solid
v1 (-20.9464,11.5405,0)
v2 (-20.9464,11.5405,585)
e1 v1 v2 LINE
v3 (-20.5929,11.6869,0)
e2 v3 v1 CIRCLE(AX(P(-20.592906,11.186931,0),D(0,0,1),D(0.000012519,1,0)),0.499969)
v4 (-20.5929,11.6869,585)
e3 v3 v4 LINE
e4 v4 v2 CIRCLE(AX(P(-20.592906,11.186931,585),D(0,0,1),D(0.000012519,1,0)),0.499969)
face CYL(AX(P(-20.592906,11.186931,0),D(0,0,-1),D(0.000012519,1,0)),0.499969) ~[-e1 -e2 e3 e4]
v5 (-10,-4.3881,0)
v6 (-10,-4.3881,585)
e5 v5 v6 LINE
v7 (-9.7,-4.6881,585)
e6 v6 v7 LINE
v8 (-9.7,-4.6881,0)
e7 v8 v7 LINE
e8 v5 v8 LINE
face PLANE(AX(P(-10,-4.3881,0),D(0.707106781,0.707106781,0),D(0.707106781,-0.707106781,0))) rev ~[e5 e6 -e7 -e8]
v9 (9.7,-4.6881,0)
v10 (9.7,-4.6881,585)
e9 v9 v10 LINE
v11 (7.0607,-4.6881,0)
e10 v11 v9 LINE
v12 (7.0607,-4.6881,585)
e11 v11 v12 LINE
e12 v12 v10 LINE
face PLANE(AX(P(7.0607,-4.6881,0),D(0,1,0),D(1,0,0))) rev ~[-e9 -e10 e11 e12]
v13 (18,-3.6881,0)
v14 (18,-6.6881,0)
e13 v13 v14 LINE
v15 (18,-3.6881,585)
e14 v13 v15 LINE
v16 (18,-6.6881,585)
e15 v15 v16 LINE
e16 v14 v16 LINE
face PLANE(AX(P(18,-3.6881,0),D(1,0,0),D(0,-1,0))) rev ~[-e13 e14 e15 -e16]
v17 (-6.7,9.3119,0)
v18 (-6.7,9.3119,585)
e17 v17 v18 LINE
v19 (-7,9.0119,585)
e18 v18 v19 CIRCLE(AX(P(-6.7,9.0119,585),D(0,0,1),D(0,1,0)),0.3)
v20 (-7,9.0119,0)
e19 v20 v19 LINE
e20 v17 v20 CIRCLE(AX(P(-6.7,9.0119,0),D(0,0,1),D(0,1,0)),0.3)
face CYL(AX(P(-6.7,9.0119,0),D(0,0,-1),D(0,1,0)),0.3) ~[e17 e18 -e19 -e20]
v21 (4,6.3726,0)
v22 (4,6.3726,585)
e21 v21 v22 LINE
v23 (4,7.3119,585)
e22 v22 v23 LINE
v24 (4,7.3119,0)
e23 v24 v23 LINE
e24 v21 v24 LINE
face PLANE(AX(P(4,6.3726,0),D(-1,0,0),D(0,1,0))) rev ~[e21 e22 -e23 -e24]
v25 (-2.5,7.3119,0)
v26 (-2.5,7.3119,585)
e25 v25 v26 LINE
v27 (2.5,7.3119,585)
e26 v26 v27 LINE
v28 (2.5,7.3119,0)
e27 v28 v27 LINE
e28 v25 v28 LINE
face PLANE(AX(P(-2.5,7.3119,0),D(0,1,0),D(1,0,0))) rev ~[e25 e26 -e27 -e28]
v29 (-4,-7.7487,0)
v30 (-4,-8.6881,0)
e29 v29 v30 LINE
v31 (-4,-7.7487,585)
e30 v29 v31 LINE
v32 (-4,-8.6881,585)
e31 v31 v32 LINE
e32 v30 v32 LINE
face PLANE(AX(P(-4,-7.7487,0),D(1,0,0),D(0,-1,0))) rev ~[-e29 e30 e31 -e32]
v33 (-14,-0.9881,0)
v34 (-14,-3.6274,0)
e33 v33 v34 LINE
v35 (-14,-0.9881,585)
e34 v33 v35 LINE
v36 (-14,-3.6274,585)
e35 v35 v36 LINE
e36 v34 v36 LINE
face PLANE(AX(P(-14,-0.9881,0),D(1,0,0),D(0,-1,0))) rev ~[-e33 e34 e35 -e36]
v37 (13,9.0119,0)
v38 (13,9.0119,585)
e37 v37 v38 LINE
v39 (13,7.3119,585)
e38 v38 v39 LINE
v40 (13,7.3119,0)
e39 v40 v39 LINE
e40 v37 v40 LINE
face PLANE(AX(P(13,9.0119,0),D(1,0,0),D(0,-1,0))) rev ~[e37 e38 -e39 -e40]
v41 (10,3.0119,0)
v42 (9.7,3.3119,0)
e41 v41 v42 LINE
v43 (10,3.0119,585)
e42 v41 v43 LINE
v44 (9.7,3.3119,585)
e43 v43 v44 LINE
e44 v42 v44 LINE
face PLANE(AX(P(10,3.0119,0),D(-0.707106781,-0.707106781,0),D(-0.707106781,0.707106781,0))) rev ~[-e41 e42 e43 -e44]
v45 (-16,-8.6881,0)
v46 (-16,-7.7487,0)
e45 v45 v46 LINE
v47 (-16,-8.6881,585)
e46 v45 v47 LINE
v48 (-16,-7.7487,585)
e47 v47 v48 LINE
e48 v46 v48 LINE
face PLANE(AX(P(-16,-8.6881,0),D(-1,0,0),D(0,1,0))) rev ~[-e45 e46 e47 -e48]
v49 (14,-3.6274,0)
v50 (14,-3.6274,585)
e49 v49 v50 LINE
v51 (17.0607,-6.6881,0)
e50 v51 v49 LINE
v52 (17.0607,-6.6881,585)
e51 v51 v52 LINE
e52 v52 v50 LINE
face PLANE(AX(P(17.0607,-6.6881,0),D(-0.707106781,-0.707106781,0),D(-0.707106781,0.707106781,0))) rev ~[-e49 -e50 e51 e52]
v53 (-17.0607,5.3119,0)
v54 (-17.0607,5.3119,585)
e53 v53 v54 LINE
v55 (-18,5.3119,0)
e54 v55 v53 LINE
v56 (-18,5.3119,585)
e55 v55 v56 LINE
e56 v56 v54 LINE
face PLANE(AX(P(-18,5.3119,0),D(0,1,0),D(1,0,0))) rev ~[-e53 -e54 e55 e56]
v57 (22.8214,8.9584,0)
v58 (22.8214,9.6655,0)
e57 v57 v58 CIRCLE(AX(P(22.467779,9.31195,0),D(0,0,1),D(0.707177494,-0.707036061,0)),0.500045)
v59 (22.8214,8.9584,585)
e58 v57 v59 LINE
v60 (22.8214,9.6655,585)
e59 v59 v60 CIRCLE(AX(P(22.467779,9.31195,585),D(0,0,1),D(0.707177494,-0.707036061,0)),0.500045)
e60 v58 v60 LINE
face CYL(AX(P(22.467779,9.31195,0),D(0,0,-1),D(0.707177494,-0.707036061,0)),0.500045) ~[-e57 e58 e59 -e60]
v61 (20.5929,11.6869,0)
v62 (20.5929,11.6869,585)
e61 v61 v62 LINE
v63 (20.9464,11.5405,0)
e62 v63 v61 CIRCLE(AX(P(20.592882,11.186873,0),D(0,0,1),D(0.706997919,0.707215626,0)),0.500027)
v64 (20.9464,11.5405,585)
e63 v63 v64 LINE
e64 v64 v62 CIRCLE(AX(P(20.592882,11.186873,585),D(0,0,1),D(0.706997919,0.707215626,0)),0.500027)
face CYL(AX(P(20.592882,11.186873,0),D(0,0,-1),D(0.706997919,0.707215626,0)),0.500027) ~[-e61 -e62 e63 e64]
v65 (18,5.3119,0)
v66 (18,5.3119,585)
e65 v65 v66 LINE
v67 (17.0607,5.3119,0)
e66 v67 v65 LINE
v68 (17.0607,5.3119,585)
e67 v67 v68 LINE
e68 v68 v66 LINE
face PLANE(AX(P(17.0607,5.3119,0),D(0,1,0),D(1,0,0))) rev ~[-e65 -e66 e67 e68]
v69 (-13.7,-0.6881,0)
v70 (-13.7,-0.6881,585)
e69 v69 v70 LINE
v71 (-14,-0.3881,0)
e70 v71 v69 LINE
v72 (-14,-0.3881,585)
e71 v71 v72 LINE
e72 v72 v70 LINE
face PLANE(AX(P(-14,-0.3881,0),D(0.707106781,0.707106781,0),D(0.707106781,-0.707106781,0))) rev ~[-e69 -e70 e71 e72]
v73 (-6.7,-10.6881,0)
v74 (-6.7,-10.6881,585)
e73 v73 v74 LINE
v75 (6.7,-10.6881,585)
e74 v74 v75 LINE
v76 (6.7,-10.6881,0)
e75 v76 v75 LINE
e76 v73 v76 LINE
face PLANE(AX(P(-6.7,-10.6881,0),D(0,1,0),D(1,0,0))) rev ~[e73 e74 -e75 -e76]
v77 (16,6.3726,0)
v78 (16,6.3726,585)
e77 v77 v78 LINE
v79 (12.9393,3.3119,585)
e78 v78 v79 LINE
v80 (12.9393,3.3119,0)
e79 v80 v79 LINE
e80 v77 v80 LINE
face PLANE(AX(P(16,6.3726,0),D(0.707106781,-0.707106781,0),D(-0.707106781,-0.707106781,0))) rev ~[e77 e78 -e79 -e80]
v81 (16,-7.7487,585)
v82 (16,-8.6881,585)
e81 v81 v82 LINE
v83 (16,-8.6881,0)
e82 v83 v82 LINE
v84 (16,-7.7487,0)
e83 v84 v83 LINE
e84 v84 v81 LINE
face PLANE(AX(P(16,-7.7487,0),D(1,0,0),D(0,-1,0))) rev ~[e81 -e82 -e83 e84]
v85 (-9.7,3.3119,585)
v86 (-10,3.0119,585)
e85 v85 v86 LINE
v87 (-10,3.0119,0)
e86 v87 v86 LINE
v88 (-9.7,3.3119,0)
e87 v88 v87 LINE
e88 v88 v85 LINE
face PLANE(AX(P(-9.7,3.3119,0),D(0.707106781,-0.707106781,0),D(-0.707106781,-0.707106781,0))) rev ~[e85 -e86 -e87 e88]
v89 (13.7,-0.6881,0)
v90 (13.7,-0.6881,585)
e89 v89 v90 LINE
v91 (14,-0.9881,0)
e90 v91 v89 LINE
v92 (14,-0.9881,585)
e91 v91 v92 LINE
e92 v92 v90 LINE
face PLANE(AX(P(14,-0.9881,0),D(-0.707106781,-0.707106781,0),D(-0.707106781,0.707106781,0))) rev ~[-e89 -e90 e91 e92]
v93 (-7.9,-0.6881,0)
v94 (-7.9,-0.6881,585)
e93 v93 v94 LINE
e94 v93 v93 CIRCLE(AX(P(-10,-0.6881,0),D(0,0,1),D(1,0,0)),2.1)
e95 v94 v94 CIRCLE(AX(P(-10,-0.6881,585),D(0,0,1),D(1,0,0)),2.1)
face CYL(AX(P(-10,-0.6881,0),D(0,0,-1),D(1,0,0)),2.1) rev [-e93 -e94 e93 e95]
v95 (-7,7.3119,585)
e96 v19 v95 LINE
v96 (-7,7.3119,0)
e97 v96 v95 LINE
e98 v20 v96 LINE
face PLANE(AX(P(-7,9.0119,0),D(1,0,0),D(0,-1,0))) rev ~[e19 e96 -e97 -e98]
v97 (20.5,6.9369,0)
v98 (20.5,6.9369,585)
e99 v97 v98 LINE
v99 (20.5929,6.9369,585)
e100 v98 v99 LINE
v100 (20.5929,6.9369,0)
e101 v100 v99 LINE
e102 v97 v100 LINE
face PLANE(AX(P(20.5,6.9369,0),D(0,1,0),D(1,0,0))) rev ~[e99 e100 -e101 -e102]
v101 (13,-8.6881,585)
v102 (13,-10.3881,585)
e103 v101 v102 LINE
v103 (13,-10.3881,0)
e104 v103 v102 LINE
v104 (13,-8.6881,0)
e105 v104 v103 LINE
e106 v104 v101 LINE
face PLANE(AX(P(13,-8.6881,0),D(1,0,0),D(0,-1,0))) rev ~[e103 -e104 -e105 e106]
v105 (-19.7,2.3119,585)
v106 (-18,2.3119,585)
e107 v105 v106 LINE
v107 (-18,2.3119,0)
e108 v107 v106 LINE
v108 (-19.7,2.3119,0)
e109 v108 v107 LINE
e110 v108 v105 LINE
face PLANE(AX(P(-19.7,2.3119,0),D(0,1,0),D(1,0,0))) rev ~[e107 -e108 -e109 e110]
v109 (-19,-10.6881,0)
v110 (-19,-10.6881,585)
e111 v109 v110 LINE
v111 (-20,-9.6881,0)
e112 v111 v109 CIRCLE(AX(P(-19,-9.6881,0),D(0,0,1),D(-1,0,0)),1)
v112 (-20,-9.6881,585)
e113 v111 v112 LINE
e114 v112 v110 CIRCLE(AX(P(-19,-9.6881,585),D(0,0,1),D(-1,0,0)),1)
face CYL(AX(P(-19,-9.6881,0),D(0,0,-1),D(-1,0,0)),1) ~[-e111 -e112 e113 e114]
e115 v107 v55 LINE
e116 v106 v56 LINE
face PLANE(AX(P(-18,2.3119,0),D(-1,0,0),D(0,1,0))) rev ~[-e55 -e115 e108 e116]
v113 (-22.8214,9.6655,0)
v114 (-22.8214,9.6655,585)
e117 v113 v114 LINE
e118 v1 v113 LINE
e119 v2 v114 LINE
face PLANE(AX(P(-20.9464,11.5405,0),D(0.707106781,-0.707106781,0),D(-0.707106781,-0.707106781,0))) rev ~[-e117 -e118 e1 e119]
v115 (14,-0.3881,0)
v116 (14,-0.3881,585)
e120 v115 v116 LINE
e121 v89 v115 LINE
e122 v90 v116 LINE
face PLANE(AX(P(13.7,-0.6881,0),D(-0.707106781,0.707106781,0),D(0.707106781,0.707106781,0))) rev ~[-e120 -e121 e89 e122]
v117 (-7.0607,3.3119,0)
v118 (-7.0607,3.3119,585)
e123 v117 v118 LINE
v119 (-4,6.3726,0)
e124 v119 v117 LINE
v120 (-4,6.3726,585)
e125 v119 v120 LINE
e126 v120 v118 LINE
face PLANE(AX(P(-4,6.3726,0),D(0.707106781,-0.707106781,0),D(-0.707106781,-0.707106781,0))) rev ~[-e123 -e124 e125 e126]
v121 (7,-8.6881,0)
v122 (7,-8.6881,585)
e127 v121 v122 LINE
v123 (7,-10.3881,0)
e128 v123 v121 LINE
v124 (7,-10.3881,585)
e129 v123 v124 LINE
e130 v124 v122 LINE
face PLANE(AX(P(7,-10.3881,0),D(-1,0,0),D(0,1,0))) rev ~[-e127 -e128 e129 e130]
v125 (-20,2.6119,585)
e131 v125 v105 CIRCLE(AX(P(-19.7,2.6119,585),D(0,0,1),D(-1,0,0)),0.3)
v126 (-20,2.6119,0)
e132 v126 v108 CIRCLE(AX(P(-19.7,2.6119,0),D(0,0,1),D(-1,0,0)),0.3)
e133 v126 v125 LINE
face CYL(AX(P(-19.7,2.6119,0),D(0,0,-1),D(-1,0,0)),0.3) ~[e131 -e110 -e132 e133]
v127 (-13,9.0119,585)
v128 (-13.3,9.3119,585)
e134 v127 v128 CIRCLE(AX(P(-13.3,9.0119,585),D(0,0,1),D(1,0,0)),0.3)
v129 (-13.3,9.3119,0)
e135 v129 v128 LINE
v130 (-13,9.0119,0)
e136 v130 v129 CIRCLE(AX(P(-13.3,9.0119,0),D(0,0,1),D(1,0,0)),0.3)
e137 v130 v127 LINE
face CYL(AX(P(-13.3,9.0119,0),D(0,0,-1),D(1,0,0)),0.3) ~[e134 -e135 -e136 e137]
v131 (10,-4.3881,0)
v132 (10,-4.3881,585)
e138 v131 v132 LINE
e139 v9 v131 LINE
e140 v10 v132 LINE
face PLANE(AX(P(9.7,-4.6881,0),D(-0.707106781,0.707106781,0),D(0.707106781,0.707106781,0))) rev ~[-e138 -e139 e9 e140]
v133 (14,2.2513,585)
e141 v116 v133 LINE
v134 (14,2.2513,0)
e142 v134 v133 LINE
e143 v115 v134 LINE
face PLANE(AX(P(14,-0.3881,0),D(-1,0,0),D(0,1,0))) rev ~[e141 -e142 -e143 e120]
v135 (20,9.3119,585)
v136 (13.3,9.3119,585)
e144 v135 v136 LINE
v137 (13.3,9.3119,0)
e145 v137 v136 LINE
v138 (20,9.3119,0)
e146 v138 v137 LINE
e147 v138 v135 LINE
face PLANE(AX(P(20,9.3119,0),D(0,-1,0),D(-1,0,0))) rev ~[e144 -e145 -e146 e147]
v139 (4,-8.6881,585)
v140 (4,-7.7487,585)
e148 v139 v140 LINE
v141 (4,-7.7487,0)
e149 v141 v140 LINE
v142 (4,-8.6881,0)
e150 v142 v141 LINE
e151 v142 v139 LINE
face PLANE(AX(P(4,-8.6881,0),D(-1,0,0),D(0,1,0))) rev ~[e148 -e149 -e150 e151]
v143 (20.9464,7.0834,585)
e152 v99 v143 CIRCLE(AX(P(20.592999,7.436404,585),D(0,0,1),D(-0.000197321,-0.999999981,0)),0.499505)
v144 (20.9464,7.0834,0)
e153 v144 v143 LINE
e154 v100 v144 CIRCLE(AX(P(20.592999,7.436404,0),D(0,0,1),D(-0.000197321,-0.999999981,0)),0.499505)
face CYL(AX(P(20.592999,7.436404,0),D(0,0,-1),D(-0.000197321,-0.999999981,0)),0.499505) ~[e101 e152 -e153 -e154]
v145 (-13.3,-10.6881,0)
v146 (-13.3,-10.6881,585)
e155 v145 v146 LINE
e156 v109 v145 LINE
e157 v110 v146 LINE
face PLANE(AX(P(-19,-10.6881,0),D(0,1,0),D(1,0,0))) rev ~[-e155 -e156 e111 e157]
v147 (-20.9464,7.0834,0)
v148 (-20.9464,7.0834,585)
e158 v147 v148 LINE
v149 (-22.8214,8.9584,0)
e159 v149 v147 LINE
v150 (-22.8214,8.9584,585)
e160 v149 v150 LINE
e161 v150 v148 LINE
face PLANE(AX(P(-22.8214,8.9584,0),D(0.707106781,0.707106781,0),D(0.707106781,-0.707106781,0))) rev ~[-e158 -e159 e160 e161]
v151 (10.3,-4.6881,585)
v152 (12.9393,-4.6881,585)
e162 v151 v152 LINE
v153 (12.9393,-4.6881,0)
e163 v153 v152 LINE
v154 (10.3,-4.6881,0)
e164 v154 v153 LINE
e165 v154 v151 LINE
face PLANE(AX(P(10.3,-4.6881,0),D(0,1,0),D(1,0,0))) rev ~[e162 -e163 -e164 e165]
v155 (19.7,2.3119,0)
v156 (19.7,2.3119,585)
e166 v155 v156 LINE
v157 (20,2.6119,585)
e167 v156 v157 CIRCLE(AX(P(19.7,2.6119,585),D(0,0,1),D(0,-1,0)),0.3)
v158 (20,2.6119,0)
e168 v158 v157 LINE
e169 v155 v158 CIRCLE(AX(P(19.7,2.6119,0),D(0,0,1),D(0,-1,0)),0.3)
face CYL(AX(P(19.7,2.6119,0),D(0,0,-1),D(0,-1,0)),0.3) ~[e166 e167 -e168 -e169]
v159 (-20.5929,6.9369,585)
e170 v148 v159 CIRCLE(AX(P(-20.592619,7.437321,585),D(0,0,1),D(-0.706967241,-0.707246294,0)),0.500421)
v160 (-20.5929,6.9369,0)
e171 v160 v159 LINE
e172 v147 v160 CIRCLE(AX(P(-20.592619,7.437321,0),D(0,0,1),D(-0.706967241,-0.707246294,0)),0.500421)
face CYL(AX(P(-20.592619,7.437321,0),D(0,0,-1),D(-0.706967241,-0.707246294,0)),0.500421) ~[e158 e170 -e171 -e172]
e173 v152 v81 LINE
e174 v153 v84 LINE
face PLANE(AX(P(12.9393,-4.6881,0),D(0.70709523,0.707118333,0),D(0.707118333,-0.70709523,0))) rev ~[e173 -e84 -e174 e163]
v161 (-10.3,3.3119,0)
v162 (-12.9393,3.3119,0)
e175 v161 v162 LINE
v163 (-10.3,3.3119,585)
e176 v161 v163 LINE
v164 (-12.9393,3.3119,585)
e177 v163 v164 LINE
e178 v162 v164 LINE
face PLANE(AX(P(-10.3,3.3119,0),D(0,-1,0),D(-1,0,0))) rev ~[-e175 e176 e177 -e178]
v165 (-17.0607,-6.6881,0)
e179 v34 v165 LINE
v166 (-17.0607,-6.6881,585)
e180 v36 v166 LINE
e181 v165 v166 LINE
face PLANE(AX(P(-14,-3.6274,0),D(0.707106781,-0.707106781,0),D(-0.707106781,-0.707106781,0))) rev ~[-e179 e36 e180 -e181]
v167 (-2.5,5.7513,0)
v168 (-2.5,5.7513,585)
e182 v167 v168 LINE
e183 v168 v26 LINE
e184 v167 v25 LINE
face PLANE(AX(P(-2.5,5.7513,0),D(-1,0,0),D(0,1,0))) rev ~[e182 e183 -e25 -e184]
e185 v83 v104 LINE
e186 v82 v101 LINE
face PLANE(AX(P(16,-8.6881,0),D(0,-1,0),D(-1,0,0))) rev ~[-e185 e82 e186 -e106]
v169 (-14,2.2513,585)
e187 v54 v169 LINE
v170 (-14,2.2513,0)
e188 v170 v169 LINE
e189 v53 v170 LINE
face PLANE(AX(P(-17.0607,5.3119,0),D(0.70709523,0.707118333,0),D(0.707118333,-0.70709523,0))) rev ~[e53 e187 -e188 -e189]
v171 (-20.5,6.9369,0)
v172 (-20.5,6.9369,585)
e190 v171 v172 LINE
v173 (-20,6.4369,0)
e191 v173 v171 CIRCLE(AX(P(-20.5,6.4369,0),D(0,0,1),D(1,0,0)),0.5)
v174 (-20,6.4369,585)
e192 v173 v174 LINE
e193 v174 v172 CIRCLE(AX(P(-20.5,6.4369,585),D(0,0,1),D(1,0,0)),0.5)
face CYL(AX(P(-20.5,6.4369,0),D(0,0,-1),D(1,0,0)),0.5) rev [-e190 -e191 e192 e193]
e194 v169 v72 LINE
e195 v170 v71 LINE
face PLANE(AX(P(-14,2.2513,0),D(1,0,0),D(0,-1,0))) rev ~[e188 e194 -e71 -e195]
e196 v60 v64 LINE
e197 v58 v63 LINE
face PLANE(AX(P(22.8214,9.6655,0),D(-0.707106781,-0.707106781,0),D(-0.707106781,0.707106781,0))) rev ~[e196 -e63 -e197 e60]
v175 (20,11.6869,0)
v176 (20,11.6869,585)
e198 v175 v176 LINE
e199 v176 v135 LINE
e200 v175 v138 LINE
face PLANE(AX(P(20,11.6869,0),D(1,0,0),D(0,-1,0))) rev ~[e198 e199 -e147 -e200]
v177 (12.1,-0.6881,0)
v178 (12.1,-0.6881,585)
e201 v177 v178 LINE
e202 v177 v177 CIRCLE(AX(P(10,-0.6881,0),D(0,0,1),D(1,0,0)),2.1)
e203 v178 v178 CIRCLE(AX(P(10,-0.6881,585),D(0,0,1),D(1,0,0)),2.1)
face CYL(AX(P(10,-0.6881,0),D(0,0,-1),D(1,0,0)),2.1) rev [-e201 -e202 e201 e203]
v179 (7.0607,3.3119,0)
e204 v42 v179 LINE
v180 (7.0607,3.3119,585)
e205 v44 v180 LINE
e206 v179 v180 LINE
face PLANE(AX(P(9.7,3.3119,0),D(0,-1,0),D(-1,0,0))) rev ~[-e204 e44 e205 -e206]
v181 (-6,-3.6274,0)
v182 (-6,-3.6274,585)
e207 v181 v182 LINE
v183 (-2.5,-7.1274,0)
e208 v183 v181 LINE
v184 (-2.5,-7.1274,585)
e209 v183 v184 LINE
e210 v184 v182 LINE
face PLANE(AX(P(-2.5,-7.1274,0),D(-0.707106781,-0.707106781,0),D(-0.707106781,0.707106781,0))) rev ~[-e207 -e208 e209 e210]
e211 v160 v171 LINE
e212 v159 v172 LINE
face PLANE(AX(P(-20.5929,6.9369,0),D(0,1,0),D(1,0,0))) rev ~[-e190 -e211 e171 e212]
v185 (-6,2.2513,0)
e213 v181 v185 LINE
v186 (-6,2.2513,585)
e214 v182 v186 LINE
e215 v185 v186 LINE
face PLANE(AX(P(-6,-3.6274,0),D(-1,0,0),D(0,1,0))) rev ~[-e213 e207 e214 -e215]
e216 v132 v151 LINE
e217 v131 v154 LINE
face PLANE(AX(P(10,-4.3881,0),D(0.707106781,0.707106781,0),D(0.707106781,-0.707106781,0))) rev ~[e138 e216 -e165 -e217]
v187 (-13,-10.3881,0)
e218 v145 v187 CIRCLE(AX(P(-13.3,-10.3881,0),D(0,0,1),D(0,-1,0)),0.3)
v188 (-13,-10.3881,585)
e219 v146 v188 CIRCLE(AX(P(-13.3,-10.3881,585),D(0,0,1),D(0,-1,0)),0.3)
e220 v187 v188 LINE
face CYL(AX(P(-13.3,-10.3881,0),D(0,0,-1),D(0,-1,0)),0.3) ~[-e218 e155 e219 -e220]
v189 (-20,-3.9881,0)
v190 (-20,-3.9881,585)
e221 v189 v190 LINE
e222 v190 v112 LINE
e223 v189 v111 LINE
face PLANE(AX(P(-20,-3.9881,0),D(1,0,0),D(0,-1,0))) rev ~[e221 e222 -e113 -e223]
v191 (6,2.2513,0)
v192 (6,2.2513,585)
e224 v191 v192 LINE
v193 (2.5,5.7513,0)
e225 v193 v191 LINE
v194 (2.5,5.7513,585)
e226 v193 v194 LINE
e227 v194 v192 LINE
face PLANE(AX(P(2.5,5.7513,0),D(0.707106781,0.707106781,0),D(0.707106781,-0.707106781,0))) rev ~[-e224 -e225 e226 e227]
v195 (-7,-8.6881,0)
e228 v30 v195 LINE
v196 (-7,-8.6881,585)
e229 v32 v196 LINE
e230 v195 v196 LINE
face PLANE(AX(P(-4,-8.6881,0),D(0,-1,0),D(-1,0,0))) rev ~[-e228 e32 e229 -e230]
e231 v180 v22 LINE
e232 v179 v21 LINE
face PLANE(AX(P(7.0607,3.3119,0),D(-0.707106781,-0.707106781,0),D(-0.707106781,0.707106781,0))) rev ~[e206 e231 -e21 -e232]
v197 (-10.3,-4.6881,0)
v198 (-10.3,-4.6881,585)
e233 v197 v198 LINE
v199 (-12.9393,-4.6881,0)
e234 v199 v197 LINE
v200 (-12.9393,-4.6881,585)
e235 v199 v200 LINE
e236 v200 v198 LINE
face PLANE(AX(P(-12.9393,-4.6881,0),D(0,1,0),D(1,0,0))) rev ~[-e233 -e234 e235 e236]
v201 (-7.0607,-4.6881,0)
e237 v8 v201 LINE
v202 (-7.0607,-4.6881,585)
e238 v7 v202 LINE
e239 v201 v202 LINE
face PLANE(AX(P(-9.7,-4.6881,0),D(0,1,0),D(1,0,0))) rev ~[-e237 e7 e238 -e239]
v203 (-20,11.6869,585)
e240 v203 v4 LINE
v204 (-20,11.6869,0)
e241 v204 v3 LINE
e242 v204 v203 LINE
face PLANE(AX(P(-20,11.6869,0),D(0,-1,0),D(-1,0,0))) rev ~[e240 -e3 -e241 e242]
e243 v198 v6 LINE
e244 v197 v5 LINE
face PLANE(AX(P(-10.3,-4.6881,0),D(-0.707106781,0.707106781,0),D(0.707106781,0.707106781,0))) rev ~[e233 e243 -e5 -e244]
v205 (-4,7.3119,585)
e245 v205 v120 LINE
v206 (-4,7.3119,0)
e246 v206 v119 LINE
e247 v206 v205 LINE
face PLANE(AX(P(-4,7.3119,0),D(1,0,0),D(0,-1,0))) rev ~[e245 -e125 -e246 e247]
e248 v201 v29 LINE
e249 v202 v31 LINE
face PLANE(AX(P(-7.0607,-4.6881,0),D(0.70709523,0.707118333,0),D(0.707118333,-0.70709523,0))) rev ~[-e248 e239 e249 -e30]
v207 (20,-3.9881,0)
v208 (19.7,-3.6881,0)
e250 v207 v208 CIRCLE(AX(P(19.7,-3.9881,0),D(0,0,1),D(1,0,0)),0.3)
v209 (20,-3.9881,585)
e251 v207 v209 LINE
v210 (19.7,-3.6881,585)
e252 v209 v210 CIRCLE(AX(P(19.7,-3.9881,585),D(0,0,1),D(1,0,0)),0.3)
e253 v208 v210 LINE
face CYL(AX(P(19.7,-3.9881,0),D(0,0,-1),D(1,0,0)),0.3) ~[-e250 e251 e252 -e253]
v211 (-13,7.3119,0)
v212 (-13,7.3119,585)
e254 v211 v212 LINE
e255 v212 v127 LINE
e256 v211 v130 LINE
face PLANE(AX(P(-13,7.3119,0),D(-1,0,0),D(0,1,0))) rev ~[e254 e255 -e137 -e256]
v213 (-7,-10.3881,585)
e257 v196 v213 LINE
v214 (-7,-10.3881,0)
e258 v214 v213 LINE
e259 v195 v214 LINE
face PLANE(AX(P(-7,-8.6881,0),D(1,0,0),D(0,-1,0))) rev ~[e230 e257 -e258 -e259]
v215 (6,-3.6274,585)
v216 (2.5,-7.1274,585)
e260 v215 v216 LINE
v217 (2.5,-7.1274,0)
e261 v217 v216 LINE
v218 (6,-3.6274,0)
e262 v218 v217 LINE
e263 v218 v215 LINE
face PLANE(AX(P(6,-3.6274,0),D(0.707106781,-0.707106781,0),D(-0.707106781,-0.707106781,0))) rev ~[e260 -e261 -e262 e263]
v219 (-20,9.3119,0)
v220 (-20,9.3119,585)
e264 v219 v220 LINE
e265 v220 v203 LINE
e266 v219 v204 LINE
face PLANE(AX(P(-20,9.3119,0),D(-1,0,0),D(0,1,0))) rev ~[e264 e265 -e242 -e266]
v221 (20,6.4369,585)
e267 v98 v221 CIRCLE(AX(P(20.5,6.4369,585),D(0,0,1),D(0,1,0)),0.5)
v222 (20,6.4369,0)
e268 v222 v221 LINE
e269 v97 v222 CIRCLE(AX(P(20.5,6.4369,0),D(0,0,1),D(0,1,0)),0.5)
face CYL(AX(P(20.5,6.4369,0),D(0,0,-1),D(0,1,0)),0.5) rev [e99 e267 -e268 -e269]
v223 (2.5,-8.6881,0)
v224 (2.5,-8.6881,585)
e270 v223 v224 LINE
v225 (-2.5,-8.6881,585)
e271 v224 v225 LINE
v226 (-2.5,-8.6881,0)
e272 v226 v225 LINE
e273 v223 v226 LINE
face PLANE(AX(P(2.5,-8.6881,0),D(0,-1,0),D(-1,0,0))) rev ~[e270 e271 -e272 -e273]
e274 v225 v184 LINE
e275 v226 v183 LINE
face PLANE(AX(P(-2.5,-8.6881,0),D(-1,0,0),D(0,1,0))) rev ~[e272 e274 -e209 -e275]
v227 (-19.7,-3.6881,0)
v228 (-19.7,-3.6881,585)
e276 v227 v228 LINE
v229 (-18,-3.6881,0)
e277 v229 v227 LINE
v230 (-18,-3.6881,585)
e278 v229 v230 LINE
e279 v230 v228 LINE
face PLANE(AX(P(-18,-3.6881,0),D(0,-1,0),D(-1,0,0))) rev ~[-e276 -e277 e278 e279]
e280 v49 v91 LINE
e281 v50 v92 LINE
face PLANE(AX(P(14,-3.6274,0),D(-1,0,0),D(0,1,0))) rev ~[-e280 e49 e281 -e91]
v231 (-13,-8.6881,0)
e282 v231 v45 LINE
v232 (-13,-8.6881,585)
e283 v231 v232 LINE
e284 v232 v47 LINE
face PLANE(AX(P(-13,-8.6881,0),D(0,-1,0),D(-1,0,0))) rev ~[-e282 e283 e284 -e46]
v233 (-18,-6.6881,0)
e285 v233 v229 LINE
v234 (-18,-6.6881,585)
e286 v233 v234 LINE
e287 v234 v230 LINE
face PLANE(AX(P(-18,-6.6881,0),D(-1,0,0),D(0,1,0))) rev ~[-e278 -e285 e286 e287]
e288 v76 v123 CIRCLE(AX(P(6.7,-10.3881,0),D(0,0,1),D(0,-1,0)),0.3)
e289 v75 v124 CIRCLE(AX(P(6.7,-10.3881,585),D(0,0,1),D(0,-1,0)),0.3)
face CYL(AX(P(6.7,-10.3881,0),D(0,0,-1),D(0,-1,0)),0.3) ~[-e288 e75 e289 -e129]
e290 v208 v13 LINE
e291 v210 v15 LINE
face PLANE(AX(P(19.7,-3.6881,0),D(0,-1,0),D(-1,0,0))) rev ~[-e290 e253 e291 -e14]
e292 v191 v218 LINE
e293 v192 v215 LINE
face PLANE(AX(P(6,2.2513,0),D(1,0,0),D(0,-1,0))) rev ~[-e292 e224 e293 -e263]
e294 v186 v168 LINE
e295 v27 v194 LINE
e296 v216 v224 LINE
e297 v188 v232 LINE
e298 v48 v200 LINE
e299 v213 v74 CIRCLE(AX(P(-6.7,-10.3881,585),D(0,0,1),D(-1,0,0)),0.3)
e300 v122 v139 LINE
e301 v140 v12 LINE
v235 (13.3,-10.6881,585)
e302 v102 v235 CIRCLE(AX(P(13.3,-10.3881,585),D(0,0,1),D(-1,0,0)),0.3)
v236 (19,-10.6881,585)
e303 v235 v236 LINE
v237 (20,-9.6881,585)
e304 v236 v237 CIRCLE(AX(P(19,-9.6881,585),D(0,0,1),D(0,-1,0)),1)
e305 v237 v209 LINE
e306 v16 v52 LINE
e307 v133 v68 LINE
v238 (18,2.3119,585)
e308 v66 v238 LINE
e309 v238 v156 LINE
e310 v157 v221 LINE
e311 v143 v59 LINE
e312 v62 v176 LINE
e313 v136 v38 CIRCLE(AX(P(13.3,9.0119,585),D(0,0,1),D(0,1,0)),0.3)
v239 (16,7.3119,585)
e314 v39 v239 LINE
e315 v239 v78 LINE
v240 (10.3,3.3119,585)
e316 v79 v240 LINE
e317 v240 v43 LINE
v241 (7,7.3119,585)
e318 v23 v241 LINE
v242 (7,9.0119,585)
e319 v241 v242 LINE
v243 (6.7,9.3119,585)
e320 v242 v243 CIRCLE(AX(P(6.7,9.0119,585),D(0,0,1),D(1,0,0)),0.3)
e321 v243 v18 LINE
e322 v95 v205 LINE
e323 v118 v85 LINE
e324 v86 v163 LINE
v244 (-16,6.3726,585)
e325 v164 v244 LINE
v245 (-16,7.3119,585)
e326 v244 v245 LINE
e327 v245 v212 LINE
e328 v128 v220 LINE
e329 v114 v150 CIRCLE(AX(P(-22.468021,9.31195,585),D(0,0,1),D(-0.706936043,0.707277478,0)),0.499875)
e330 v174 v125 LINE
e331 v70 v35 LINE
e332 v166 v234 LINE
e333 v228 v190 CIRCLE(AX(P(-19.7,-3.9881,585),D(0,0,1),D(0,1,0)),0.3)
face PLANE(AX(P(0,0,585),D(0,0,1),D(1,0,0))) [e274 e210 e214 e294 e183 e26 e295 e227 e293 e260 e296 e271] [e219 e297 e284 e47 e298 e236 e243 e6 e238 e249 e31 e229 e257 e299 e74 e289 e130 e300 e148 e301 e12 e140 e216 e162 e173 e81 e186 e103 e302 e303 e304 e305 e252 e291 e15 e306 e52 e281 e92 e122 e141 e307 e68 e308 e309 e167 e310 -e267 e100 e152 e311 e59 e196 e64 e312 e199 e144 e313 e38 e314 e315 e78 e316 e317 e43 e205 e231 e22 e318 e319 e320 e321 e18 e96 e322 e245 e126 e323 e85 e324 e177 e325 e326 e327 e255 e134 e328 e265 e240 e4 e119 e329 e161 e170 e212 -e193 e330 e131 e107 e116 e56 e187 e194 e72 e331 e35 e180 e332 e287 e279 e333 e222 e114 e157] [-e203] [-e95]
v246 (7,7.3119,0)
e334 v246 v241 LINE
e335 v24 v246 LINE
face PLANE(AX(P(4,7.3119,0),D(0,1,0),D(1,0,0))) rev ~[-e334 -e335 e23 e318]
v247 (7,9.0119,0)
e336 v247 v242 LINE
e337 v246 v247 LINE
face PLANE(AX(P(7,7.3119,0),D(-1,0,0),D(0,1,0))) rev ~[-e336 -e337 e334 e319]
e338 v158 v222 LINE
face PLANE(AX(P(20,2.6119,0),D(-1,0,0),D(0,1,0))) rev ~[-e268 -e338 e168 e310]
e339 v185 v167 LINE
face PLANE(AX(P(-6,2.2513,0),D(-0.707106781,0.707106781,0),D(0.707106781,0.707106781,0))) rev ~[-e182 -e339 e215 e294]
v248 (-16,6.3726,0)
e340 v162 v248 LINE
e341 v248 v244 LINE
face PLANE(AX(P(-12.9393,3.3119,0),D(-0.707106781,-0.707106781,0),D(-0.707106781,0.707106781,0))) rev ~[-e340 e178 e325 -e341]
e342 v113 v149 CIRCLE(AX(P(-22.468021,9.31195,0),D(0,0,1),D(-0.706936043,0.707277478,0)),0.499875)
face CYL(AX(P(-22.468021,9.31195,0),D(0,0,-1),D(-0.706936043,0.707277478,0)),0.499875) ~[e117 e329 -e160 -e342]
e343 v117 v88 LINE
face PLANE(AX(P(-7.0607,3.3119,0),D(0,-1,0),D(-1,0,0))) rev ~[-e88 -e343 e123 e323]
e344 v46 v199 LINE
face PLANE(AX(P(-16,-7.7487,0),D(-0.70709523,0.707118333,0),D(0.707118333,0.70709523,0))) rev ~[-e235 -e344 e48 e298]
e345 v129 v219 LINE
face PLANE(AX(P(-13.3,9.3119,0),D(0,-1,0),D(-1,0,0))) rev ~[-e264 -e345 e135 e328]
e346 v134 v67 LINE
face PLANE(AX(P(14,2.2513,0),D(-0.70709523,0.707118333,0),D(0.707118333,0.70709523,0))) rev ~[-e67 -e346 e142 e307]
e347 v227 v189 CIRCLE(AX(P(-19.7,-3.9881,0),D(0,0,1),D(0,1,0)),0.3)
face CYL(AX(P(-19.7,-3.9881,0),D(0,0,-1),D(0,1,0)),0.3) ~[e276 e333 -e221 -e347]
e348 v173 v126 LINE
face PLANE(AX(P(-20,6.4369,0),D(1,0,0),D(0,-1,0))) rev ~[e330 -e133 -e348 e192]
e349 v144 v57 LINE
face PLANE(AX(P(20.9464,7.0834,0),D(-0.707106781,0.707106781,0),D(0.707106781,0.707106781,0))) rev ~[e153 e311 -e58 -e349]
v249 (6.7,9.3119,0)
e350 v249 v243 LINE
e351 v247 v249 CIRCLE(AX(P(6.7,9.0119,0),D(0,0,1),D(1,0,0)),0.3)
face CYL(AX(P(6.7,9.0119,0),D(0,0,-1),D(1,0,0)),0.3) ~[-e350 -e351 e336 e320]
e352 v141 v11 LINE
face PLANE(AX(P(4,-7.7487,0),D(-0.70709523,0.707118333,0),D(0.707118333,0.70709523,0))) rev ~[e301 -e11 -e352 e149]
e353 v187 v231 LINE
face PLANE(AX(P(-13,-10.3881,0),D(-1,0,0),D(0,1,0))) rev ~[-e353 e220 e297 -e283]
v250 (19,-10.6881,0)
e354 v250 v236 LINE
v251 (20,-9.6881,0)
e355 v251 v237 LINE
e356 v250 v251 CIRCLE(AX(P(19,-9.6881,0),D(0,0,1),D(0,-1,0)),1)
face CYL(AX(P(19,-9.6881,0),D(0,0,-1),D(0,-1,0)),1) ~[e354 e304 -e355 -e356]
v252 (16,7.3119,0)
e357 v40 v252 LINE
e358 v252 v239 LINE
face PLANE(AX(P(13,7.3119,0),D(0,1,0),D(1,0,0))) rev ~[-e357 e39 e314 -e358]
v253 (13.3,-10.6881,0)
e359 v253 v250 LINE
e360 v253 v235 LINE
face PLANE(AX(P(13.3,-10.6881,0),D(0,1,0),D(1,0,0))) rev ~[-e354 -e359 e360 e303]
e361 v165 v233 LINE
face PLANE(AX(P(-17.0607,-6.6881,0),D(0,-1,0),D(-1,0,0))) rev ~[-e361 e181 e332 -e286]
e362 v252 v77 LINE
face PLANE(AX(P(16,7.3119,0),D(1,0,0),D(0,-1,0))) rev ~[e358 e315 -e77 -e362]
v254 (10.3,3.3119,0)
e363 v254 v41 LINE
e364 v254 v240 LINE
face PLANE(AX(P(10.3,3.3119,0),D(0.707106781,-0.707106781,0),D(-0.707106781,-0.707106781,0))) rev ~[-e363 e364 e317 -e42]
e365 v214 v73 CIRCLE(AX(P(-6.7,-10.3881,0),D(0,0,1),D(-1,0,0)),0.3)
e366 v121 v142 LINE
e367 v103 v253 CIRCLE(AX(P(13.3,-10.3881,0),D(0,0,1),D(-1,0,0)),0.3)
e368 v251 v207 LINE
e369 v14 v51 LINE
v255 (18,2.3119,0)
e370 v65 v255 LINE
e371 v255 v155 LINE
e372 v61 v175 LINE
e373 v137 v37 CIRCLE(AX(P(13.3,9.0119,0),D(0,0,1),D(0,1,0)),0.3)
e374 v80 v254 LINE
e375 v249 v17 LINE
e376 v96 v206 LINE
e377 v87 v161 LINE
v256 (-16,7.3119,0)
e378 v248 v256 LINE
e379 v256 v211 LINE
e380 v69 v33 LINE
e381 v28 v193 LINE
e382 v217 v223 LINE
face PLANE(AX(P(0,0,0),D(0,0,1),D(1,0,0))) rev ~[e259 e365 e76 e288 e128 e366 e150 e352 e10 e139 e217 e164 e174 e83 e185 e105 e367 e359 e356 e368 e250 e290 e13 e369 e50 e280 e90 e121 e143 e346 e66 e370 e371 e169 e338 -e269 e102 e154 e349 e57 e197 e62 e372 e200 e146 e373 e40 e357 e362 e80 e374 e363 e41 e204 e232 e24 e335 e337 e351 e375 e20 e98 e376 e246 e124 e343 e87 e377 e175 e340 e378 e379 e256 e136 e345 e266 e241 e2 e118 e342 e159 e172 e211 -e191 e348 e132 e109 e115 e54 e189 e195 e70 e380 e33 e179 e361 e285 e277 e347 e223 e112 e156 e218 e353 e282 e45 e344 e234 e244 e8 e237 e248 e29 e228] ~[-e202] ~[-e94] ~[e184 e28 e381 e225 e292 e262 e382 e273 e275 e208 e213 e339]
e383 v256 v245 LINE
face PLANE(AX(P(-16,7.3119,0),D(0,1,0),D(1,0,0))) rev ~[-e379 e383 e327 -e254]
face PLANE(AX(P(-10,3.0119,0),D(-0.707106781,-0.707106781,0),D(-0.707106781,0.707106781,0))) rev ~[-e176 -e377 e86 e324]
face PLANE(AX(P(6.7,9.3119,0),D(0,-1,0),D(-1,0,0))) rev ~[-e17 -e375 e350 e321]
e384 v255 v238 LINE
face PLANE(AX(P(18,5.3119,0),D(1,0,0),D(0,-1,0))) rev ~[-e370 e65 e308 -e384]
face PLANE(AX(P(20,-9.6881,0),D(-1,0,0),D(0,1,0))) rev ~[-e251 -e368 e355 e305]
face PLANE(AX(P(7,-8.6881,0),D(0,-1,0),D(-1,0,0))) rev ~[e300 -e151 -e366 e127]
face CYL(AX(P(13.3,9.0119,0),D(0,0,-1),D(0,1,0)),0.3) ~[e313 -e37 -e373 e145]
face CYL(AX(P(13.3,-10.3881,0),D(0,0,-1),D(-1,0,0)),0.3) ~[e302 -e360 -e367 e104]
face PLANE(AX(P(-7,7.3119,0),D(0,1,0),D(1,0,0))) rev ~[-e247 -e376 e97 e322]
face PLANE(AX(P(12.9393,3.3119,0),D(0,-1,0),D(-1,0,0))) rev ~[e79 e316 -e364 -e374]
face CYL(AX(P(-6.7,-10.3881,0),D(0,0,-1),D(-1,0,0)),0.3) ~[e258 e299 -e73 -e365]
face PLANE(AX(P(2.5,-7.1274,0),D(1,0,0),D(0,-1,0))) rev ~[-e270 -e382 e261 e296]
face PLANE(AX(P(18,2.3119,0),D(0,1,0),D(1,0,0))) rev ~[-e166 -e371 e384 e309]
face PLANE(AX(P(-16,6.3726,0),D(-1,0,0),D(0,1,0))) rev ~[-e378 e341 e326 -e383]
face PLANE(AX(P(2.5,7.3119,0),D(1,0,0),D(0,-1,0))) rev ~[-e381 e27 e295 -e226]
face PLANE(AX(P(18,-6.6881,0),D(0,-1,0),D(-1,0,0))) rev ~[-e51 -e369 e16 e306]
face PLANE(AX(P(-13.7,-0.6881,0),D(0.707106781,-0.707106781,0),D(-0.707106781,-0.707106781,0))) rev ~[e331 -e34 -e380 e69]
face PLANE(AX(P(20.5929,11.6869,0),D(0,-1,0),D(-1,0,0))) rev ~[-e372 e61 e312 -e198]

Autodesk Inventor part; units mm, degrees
ref_plane "YZ Plane" through (0, 0, 0) normal (1, 0, 0) x (0, 1, 0)
ref_plane "XZ Plane" through (0, 0, 0) normal (0, 1, 0) x (-1, 0, 0)
ref_plane "XY Plane" through (0, 0, 0) normal (0, 0, 1) x (1, 0, 0)
sketch "Sketch1" plane through (0, 0, 0) normal (0, 0, 1) x (1, 0, 0)
  line L0 (2.5, 7.3119) -> (2.5, 5.7513) projected
  line L1 (2.5, 5.7513) -> (6, 2.2513) projected
  line L2 (6, 2.2513) -> (6, -3.6274) projected
  line L3 (6, -3.6274) -> (2.5, -7.1274) projected
  line L4 (2.5, -7.1274) -> (2.5, -8.6881) projected
  line L5 (2.5, -8.6881) -> (-2.5, -8.6881) projected
  line L6 (-2.5, -8.6881) -> (-2.5, -7.1274) projected
  line L7 (-2.5, -7.1274) -> (-6, -3.6274) projected
  line L8 (-6, -3.6274) -> (-6, 2.2513) projected
  line L9 (-6, 2.2513) -> (-2.5, 5.7513) projected
  line L10 (-2.5, 5.7513) -> (-2.5, 7.3119) projected
  line L11 (-2.5, 7.3119) -> (2.5, 7.3119) projected
  circle A0 centre (-10, -0.6881) radius 2.1 projected
  circle A1 centre (10, -0.6881) radius 2.1 projected
  line L12 (-4, 6.3726) -> (-7.0607, 3.3119) projected
  line L13 (-7.0607, 3.3119) -> (-9.7, 3.3119) projected
  line L14 (-9.7, 3.3119) -> (-10, 3.0119) projected
  line L15 (-10, 3.0119) -> (-10.3, 3.3119) projected
  line L16 (-10.3, 3.3119) -> (-12.9393, 3.3119) projected
  line L17 (-12.9393, 3.3119) -> (-16, 6.3726) projected
  line L18 (-16, 6.3726) -> (-16, 7.3119) projected
  line L19 (-16, 7.3119) -> (-13, 7.3119) projected
  line L20 (-13, 7.3119) -> (-13, 9.0119) projected
  arc A2 (-13, 9.0119) -> (-13.3, 9.3119) centre (-13.3, 9.0119) ccw projected
  line L21 (-13.3, 9.3119) -> (-20, 9.3119) projected
  line L22 (-20, 9.3119) -> (-20, 11.6869) projected
  line L23 (-20, 11.6869) -> (-20.5929, 11.6869) projected
  arc A3 (-20.5929, 11.6869) -> (-20.9464, 11.5405) centre (-20.5929, 11.1869) ccw projected
  line L24 (-20.9464, 11.5405) -> (-22.8214, 9.6655) projected
  arc A4 (-22.8214, 9.6655) -> (-22.8214, 8.9584) centre (-22.4679, 9.3119) ccw projected
  line L25 (-22.8214, 8.9584) -> (-20.9464, 7.0834) projected
  arc A5 (-20.9464, 7.0834) -> (-20.5929, 6.9369) centre (-20.5929, 7.4369) ccw projected
  line L26 (-20.5929, 6.9369) -> (-20.5, 6.9369) projected
  arc A6 (-20, 6.4369) -> (-20.5, 6.9369) centre (-20.5, 6.4369) ccw projected
  line L27 (-20, 6.4369) -> (-20, 2.6119) projected
  arc A7 (-20, 2.6119) -> (-19.7, 2.3119) centre (-19.7, 2.6119) ccw projected
  line L28 (-19.7, 2.3119) -> (-18, 2.3119) projected
  line L29 (-18, 2.3119) -> (-18, 5.3119) projected
  line L30 (-18, 5.3119) -> (-17.0607, 5.3119) projected
  line L31 (-17.0607, 5.3119) -> (-14, 2.2513) projected
  line L32 (-14, 2.2513) -> (-14, -0.3881) projected
  line L33 (-14, -0.3881) -> (-13.7, -0.6881) projected
  line L34 (-13.7, -0.6881) -> (-14, -0.9881) projected
  line L35 (-14, -0.9881) -> (-14, -3.6274) projected
  line L36 (-14, -3.6274) -> (-17.0607, -6.6881) projected
  line L37 (-17.0607, -6.6881) -> (-18, -6.6881) projected
  line L38 (-18, -6.6881) -> (-18, -3.6881) projected
  line L39 (-18, -3.6881) -> (-19.7, -3.6881) projected
  arc A8 (-19.7, -3.6881) -> (-20, -3.9881) centre (-19.7, -3.9881) ccw projected
  line L40 (-20, -3.9881) -> (-20, -9.6881) projected
  arc A9 (-20, -9.6881) -> (-19, -10.6881) centre (-19, -9.6881) ccw projected
  line L41 (-19, -10.6881) -> (-13.3, -10.6881) projected
  arc A10 (-13.3, -10.6881) -> (-13, -10.3881) centre (-13.3, -10.3881) ccw projected
  line L42 (-13, -10.3881) -> (-13, -8.6881) projected
  line L43 (-13, -8.6881) -> (-16, -8.6881) projected
  line L44 (-16, -8.6881) -> (-16, -7.7487) projected
  line L45 (-16, -7.7487) -> (-12.9393, -4.6881) projected
  line L46 (-12.9393, -4.6881) -> (-10.3, -4.6881) projected
  line L47 (-10.3, -4.6881) -> (-10, -4.3881) projected
  line L48 (-10, -4.3881) -> (-9.7, -4.6881) projected
  line L49 (-9.7, -4.6881) -> (-7.0607, -4.6881) projected
  line L50 (-7.0607, -4.6881) -> (-4, -7.7487) projected
  line L51 (-4, -7.7487) -> (-4, -8.6881) projected
  line L52 (-4, -8.6881) -> (-7, -8.6881) projected
  line L53 (-7, -8.6881) -> (-7, -10.3881) projected
  arc A11 (-7, -10.3881) -> (-6.7, -10.6881) centre (-6.7, -10.3881) ccw projected
  line L54 (-6.7, -10.6881) -> (6.7, -10.6881) projected
  arc A12 (6.7, -10.6881) -> (7, -10.3881) centre (6.7, -10.3881) ccw projected
  line L55 (7, -10.3881) -> (7, -8.6881) projected
  line L56 (7, -8.6881) -> (4, -8.6881) projected
  line L57 (4, -8.6881) -> (4, -7.7487) projected
  line L58 (4, -7.7487) -> (7.0607, -4.6881) projected
  line L59 (7.0607, -4.6881) -> (9.7, -4.6881) projected
  line L60 (9.7, -4.6881) -> (10, -4.3881) projected
  line L61 (10, -4.3881) -> (10.3, -4.6881) projected
  line L62 (10.3, -4.6881) -> (12.9393, -4.6881) projected
  line L63 (12.9393, -4.6881) -> (16, -7.7487) projected
  line L64 (16, -7.7487) -> (16, -8.6881) projected
  line L65 (16, -8.6881) -> (13, -8.6881) projected
  line L66 (13, -8.6881) -> (13, -10.3881) projected
  arc A13 (13, -10.3881) -> (13.3, -10.6881) centre (13.3, -10.3881) ccw projected
  line L67 (13.3, -10.6881) -> (19, -10.6881) projected
  arc A14 (19, -10.6881) -> (20, -9.6881) centre (19, -9.6881) ccw projected
  line L68 (20, -9.6881) -> (20, -3.9881) projected
  arc A15 (20, -3.9881) -> (19.7, -3.6881) centre (19.7, -3.9881) ccw projected
  line L69 (19.7, -3.6881) -> (18, -3.6881) projected
  line L70 (18, -3.6881) -> (18, -6.6881) projected
  line L71 (18, -6.6881) -> (17.0607, -6.6881) projected
  line L72 (17.0607, -6.6881) -> (14, -3.6274) projected
  line L73 (14, -3.6274) -> (14, -0.9881) projected
  line L74 (14, -0.9881) -> (13.7, -0.6881) projected
  line L75 (13.7, -0.6881) -> (14, -0.3881) projected
  line L76 (14, -0.3881) -> (14, 2.2513) projected
  line L77 (14, 2.2513) -> (17.0607, 5.3119) projected
  line L78 (17.0607, 5.3119) -> (18, 5.3119) projected
  line L79 (18, 5.3119) -> (18, 2.3119) projected
  line L80 (18, 2.3119) -> (19.7, 2.3119) projected
  arc A16 (19.7, 2.3119) -> (20, 2.6119) centre (19.7, 2.6119) ccw projected
  line L81 (20, 2.6119) -> (20, 6.4369) projected
  arc A17 (20.5, 6.9369) -> (20, 6.4369) centre (20.5, 6.4369) ccw projected
  line L82 (20.5, 6.9369) -> (20.5929, 6.9369) projected
  arc A18 (20.5929, 6.9369) -> (20.9464, 7.0834) centre (20.5929, 7.4369) ccw projected
  line L83 (20.9464, 7.0834) -> (22.8214, 8.9584) projected
  arc A19 (22.8214, 8.9584) -> (22.8214, 9.6655) centre (22.4679, 9.3119) ccw projected
  line L84 (22.8214, 9.6655) -> (20.9464, 11.5405) projected
  arc A20 (20.9464, 11.5405) -> (20.5929, 11.6869) centre (20.5929, 11.1869) ccw projected
  line L85 (20.5929, 11.6869) -> (20, 11.6869) projected
  line L86 (20, 11.6869) -> (20, 9.3119) projected
  line L87 (20, 9.3119) -> (13.3, 9.3119) projected
  arc A21 (13.3, 9.3119) -> (13, 9.0119) centre (13.3, 9.0119) ccw projected
  line L88 (13, 9.0119) -> (13, 7.3119) projected
  line L89 (13, 7.3119) -> (16, 7.3119) projected
  line L90 (16, 7.3119) -> (16, 6.3726) projected
  line L91 (16, 6.3726) -> (12.9393, 3.3119) projected
  line L92 (12.9393, 3.3119) -> (10.3, 3.3119) projected
  line L93 (10.3, 3.3119) -> (10, 3.0119) projected
  line L94 (10, 3.0119) -> (9.7, 3.3119) projected
  line L95 (9.7, 3.3119) -> (7.0607, 3.3119) projected
  line L96 (7.0607, 3.3119) -> (4, 6.3726) projected
  line L97 (4, 6.3726) -> (4, 7.3119) projected
  line L98 (4, 7.3119) -> (7, 7.3119) projected
  line L99 (7, 7.3119) -> (7, 9.0119) projected
  arc A22 (7, 9.0119) -> (6.7, 9.3119) centre (6.7, 9.0119) ccw projected
  line L100 (6.7, 9.3119) -> (-6.7, 9.3119) projected
  arc A23 (-6.7, 9.3119) -> (-7, 9.0119) centre (-6.7, 9.0119) ccw projected
  line L101 (-7, 9.0119) -> (-7, 7.3119) projected
  line L102 (-7, 7.3119) -> (-4, 7.3119) projected
  line L103 (-4, 7.3119) -> (-4, 6.3726) projected
  point P0 (0, 0)
extrude "Extrusion1" add sketch "Sketch1" along normal blind 585
properties part number "Makerslide 580mm"
